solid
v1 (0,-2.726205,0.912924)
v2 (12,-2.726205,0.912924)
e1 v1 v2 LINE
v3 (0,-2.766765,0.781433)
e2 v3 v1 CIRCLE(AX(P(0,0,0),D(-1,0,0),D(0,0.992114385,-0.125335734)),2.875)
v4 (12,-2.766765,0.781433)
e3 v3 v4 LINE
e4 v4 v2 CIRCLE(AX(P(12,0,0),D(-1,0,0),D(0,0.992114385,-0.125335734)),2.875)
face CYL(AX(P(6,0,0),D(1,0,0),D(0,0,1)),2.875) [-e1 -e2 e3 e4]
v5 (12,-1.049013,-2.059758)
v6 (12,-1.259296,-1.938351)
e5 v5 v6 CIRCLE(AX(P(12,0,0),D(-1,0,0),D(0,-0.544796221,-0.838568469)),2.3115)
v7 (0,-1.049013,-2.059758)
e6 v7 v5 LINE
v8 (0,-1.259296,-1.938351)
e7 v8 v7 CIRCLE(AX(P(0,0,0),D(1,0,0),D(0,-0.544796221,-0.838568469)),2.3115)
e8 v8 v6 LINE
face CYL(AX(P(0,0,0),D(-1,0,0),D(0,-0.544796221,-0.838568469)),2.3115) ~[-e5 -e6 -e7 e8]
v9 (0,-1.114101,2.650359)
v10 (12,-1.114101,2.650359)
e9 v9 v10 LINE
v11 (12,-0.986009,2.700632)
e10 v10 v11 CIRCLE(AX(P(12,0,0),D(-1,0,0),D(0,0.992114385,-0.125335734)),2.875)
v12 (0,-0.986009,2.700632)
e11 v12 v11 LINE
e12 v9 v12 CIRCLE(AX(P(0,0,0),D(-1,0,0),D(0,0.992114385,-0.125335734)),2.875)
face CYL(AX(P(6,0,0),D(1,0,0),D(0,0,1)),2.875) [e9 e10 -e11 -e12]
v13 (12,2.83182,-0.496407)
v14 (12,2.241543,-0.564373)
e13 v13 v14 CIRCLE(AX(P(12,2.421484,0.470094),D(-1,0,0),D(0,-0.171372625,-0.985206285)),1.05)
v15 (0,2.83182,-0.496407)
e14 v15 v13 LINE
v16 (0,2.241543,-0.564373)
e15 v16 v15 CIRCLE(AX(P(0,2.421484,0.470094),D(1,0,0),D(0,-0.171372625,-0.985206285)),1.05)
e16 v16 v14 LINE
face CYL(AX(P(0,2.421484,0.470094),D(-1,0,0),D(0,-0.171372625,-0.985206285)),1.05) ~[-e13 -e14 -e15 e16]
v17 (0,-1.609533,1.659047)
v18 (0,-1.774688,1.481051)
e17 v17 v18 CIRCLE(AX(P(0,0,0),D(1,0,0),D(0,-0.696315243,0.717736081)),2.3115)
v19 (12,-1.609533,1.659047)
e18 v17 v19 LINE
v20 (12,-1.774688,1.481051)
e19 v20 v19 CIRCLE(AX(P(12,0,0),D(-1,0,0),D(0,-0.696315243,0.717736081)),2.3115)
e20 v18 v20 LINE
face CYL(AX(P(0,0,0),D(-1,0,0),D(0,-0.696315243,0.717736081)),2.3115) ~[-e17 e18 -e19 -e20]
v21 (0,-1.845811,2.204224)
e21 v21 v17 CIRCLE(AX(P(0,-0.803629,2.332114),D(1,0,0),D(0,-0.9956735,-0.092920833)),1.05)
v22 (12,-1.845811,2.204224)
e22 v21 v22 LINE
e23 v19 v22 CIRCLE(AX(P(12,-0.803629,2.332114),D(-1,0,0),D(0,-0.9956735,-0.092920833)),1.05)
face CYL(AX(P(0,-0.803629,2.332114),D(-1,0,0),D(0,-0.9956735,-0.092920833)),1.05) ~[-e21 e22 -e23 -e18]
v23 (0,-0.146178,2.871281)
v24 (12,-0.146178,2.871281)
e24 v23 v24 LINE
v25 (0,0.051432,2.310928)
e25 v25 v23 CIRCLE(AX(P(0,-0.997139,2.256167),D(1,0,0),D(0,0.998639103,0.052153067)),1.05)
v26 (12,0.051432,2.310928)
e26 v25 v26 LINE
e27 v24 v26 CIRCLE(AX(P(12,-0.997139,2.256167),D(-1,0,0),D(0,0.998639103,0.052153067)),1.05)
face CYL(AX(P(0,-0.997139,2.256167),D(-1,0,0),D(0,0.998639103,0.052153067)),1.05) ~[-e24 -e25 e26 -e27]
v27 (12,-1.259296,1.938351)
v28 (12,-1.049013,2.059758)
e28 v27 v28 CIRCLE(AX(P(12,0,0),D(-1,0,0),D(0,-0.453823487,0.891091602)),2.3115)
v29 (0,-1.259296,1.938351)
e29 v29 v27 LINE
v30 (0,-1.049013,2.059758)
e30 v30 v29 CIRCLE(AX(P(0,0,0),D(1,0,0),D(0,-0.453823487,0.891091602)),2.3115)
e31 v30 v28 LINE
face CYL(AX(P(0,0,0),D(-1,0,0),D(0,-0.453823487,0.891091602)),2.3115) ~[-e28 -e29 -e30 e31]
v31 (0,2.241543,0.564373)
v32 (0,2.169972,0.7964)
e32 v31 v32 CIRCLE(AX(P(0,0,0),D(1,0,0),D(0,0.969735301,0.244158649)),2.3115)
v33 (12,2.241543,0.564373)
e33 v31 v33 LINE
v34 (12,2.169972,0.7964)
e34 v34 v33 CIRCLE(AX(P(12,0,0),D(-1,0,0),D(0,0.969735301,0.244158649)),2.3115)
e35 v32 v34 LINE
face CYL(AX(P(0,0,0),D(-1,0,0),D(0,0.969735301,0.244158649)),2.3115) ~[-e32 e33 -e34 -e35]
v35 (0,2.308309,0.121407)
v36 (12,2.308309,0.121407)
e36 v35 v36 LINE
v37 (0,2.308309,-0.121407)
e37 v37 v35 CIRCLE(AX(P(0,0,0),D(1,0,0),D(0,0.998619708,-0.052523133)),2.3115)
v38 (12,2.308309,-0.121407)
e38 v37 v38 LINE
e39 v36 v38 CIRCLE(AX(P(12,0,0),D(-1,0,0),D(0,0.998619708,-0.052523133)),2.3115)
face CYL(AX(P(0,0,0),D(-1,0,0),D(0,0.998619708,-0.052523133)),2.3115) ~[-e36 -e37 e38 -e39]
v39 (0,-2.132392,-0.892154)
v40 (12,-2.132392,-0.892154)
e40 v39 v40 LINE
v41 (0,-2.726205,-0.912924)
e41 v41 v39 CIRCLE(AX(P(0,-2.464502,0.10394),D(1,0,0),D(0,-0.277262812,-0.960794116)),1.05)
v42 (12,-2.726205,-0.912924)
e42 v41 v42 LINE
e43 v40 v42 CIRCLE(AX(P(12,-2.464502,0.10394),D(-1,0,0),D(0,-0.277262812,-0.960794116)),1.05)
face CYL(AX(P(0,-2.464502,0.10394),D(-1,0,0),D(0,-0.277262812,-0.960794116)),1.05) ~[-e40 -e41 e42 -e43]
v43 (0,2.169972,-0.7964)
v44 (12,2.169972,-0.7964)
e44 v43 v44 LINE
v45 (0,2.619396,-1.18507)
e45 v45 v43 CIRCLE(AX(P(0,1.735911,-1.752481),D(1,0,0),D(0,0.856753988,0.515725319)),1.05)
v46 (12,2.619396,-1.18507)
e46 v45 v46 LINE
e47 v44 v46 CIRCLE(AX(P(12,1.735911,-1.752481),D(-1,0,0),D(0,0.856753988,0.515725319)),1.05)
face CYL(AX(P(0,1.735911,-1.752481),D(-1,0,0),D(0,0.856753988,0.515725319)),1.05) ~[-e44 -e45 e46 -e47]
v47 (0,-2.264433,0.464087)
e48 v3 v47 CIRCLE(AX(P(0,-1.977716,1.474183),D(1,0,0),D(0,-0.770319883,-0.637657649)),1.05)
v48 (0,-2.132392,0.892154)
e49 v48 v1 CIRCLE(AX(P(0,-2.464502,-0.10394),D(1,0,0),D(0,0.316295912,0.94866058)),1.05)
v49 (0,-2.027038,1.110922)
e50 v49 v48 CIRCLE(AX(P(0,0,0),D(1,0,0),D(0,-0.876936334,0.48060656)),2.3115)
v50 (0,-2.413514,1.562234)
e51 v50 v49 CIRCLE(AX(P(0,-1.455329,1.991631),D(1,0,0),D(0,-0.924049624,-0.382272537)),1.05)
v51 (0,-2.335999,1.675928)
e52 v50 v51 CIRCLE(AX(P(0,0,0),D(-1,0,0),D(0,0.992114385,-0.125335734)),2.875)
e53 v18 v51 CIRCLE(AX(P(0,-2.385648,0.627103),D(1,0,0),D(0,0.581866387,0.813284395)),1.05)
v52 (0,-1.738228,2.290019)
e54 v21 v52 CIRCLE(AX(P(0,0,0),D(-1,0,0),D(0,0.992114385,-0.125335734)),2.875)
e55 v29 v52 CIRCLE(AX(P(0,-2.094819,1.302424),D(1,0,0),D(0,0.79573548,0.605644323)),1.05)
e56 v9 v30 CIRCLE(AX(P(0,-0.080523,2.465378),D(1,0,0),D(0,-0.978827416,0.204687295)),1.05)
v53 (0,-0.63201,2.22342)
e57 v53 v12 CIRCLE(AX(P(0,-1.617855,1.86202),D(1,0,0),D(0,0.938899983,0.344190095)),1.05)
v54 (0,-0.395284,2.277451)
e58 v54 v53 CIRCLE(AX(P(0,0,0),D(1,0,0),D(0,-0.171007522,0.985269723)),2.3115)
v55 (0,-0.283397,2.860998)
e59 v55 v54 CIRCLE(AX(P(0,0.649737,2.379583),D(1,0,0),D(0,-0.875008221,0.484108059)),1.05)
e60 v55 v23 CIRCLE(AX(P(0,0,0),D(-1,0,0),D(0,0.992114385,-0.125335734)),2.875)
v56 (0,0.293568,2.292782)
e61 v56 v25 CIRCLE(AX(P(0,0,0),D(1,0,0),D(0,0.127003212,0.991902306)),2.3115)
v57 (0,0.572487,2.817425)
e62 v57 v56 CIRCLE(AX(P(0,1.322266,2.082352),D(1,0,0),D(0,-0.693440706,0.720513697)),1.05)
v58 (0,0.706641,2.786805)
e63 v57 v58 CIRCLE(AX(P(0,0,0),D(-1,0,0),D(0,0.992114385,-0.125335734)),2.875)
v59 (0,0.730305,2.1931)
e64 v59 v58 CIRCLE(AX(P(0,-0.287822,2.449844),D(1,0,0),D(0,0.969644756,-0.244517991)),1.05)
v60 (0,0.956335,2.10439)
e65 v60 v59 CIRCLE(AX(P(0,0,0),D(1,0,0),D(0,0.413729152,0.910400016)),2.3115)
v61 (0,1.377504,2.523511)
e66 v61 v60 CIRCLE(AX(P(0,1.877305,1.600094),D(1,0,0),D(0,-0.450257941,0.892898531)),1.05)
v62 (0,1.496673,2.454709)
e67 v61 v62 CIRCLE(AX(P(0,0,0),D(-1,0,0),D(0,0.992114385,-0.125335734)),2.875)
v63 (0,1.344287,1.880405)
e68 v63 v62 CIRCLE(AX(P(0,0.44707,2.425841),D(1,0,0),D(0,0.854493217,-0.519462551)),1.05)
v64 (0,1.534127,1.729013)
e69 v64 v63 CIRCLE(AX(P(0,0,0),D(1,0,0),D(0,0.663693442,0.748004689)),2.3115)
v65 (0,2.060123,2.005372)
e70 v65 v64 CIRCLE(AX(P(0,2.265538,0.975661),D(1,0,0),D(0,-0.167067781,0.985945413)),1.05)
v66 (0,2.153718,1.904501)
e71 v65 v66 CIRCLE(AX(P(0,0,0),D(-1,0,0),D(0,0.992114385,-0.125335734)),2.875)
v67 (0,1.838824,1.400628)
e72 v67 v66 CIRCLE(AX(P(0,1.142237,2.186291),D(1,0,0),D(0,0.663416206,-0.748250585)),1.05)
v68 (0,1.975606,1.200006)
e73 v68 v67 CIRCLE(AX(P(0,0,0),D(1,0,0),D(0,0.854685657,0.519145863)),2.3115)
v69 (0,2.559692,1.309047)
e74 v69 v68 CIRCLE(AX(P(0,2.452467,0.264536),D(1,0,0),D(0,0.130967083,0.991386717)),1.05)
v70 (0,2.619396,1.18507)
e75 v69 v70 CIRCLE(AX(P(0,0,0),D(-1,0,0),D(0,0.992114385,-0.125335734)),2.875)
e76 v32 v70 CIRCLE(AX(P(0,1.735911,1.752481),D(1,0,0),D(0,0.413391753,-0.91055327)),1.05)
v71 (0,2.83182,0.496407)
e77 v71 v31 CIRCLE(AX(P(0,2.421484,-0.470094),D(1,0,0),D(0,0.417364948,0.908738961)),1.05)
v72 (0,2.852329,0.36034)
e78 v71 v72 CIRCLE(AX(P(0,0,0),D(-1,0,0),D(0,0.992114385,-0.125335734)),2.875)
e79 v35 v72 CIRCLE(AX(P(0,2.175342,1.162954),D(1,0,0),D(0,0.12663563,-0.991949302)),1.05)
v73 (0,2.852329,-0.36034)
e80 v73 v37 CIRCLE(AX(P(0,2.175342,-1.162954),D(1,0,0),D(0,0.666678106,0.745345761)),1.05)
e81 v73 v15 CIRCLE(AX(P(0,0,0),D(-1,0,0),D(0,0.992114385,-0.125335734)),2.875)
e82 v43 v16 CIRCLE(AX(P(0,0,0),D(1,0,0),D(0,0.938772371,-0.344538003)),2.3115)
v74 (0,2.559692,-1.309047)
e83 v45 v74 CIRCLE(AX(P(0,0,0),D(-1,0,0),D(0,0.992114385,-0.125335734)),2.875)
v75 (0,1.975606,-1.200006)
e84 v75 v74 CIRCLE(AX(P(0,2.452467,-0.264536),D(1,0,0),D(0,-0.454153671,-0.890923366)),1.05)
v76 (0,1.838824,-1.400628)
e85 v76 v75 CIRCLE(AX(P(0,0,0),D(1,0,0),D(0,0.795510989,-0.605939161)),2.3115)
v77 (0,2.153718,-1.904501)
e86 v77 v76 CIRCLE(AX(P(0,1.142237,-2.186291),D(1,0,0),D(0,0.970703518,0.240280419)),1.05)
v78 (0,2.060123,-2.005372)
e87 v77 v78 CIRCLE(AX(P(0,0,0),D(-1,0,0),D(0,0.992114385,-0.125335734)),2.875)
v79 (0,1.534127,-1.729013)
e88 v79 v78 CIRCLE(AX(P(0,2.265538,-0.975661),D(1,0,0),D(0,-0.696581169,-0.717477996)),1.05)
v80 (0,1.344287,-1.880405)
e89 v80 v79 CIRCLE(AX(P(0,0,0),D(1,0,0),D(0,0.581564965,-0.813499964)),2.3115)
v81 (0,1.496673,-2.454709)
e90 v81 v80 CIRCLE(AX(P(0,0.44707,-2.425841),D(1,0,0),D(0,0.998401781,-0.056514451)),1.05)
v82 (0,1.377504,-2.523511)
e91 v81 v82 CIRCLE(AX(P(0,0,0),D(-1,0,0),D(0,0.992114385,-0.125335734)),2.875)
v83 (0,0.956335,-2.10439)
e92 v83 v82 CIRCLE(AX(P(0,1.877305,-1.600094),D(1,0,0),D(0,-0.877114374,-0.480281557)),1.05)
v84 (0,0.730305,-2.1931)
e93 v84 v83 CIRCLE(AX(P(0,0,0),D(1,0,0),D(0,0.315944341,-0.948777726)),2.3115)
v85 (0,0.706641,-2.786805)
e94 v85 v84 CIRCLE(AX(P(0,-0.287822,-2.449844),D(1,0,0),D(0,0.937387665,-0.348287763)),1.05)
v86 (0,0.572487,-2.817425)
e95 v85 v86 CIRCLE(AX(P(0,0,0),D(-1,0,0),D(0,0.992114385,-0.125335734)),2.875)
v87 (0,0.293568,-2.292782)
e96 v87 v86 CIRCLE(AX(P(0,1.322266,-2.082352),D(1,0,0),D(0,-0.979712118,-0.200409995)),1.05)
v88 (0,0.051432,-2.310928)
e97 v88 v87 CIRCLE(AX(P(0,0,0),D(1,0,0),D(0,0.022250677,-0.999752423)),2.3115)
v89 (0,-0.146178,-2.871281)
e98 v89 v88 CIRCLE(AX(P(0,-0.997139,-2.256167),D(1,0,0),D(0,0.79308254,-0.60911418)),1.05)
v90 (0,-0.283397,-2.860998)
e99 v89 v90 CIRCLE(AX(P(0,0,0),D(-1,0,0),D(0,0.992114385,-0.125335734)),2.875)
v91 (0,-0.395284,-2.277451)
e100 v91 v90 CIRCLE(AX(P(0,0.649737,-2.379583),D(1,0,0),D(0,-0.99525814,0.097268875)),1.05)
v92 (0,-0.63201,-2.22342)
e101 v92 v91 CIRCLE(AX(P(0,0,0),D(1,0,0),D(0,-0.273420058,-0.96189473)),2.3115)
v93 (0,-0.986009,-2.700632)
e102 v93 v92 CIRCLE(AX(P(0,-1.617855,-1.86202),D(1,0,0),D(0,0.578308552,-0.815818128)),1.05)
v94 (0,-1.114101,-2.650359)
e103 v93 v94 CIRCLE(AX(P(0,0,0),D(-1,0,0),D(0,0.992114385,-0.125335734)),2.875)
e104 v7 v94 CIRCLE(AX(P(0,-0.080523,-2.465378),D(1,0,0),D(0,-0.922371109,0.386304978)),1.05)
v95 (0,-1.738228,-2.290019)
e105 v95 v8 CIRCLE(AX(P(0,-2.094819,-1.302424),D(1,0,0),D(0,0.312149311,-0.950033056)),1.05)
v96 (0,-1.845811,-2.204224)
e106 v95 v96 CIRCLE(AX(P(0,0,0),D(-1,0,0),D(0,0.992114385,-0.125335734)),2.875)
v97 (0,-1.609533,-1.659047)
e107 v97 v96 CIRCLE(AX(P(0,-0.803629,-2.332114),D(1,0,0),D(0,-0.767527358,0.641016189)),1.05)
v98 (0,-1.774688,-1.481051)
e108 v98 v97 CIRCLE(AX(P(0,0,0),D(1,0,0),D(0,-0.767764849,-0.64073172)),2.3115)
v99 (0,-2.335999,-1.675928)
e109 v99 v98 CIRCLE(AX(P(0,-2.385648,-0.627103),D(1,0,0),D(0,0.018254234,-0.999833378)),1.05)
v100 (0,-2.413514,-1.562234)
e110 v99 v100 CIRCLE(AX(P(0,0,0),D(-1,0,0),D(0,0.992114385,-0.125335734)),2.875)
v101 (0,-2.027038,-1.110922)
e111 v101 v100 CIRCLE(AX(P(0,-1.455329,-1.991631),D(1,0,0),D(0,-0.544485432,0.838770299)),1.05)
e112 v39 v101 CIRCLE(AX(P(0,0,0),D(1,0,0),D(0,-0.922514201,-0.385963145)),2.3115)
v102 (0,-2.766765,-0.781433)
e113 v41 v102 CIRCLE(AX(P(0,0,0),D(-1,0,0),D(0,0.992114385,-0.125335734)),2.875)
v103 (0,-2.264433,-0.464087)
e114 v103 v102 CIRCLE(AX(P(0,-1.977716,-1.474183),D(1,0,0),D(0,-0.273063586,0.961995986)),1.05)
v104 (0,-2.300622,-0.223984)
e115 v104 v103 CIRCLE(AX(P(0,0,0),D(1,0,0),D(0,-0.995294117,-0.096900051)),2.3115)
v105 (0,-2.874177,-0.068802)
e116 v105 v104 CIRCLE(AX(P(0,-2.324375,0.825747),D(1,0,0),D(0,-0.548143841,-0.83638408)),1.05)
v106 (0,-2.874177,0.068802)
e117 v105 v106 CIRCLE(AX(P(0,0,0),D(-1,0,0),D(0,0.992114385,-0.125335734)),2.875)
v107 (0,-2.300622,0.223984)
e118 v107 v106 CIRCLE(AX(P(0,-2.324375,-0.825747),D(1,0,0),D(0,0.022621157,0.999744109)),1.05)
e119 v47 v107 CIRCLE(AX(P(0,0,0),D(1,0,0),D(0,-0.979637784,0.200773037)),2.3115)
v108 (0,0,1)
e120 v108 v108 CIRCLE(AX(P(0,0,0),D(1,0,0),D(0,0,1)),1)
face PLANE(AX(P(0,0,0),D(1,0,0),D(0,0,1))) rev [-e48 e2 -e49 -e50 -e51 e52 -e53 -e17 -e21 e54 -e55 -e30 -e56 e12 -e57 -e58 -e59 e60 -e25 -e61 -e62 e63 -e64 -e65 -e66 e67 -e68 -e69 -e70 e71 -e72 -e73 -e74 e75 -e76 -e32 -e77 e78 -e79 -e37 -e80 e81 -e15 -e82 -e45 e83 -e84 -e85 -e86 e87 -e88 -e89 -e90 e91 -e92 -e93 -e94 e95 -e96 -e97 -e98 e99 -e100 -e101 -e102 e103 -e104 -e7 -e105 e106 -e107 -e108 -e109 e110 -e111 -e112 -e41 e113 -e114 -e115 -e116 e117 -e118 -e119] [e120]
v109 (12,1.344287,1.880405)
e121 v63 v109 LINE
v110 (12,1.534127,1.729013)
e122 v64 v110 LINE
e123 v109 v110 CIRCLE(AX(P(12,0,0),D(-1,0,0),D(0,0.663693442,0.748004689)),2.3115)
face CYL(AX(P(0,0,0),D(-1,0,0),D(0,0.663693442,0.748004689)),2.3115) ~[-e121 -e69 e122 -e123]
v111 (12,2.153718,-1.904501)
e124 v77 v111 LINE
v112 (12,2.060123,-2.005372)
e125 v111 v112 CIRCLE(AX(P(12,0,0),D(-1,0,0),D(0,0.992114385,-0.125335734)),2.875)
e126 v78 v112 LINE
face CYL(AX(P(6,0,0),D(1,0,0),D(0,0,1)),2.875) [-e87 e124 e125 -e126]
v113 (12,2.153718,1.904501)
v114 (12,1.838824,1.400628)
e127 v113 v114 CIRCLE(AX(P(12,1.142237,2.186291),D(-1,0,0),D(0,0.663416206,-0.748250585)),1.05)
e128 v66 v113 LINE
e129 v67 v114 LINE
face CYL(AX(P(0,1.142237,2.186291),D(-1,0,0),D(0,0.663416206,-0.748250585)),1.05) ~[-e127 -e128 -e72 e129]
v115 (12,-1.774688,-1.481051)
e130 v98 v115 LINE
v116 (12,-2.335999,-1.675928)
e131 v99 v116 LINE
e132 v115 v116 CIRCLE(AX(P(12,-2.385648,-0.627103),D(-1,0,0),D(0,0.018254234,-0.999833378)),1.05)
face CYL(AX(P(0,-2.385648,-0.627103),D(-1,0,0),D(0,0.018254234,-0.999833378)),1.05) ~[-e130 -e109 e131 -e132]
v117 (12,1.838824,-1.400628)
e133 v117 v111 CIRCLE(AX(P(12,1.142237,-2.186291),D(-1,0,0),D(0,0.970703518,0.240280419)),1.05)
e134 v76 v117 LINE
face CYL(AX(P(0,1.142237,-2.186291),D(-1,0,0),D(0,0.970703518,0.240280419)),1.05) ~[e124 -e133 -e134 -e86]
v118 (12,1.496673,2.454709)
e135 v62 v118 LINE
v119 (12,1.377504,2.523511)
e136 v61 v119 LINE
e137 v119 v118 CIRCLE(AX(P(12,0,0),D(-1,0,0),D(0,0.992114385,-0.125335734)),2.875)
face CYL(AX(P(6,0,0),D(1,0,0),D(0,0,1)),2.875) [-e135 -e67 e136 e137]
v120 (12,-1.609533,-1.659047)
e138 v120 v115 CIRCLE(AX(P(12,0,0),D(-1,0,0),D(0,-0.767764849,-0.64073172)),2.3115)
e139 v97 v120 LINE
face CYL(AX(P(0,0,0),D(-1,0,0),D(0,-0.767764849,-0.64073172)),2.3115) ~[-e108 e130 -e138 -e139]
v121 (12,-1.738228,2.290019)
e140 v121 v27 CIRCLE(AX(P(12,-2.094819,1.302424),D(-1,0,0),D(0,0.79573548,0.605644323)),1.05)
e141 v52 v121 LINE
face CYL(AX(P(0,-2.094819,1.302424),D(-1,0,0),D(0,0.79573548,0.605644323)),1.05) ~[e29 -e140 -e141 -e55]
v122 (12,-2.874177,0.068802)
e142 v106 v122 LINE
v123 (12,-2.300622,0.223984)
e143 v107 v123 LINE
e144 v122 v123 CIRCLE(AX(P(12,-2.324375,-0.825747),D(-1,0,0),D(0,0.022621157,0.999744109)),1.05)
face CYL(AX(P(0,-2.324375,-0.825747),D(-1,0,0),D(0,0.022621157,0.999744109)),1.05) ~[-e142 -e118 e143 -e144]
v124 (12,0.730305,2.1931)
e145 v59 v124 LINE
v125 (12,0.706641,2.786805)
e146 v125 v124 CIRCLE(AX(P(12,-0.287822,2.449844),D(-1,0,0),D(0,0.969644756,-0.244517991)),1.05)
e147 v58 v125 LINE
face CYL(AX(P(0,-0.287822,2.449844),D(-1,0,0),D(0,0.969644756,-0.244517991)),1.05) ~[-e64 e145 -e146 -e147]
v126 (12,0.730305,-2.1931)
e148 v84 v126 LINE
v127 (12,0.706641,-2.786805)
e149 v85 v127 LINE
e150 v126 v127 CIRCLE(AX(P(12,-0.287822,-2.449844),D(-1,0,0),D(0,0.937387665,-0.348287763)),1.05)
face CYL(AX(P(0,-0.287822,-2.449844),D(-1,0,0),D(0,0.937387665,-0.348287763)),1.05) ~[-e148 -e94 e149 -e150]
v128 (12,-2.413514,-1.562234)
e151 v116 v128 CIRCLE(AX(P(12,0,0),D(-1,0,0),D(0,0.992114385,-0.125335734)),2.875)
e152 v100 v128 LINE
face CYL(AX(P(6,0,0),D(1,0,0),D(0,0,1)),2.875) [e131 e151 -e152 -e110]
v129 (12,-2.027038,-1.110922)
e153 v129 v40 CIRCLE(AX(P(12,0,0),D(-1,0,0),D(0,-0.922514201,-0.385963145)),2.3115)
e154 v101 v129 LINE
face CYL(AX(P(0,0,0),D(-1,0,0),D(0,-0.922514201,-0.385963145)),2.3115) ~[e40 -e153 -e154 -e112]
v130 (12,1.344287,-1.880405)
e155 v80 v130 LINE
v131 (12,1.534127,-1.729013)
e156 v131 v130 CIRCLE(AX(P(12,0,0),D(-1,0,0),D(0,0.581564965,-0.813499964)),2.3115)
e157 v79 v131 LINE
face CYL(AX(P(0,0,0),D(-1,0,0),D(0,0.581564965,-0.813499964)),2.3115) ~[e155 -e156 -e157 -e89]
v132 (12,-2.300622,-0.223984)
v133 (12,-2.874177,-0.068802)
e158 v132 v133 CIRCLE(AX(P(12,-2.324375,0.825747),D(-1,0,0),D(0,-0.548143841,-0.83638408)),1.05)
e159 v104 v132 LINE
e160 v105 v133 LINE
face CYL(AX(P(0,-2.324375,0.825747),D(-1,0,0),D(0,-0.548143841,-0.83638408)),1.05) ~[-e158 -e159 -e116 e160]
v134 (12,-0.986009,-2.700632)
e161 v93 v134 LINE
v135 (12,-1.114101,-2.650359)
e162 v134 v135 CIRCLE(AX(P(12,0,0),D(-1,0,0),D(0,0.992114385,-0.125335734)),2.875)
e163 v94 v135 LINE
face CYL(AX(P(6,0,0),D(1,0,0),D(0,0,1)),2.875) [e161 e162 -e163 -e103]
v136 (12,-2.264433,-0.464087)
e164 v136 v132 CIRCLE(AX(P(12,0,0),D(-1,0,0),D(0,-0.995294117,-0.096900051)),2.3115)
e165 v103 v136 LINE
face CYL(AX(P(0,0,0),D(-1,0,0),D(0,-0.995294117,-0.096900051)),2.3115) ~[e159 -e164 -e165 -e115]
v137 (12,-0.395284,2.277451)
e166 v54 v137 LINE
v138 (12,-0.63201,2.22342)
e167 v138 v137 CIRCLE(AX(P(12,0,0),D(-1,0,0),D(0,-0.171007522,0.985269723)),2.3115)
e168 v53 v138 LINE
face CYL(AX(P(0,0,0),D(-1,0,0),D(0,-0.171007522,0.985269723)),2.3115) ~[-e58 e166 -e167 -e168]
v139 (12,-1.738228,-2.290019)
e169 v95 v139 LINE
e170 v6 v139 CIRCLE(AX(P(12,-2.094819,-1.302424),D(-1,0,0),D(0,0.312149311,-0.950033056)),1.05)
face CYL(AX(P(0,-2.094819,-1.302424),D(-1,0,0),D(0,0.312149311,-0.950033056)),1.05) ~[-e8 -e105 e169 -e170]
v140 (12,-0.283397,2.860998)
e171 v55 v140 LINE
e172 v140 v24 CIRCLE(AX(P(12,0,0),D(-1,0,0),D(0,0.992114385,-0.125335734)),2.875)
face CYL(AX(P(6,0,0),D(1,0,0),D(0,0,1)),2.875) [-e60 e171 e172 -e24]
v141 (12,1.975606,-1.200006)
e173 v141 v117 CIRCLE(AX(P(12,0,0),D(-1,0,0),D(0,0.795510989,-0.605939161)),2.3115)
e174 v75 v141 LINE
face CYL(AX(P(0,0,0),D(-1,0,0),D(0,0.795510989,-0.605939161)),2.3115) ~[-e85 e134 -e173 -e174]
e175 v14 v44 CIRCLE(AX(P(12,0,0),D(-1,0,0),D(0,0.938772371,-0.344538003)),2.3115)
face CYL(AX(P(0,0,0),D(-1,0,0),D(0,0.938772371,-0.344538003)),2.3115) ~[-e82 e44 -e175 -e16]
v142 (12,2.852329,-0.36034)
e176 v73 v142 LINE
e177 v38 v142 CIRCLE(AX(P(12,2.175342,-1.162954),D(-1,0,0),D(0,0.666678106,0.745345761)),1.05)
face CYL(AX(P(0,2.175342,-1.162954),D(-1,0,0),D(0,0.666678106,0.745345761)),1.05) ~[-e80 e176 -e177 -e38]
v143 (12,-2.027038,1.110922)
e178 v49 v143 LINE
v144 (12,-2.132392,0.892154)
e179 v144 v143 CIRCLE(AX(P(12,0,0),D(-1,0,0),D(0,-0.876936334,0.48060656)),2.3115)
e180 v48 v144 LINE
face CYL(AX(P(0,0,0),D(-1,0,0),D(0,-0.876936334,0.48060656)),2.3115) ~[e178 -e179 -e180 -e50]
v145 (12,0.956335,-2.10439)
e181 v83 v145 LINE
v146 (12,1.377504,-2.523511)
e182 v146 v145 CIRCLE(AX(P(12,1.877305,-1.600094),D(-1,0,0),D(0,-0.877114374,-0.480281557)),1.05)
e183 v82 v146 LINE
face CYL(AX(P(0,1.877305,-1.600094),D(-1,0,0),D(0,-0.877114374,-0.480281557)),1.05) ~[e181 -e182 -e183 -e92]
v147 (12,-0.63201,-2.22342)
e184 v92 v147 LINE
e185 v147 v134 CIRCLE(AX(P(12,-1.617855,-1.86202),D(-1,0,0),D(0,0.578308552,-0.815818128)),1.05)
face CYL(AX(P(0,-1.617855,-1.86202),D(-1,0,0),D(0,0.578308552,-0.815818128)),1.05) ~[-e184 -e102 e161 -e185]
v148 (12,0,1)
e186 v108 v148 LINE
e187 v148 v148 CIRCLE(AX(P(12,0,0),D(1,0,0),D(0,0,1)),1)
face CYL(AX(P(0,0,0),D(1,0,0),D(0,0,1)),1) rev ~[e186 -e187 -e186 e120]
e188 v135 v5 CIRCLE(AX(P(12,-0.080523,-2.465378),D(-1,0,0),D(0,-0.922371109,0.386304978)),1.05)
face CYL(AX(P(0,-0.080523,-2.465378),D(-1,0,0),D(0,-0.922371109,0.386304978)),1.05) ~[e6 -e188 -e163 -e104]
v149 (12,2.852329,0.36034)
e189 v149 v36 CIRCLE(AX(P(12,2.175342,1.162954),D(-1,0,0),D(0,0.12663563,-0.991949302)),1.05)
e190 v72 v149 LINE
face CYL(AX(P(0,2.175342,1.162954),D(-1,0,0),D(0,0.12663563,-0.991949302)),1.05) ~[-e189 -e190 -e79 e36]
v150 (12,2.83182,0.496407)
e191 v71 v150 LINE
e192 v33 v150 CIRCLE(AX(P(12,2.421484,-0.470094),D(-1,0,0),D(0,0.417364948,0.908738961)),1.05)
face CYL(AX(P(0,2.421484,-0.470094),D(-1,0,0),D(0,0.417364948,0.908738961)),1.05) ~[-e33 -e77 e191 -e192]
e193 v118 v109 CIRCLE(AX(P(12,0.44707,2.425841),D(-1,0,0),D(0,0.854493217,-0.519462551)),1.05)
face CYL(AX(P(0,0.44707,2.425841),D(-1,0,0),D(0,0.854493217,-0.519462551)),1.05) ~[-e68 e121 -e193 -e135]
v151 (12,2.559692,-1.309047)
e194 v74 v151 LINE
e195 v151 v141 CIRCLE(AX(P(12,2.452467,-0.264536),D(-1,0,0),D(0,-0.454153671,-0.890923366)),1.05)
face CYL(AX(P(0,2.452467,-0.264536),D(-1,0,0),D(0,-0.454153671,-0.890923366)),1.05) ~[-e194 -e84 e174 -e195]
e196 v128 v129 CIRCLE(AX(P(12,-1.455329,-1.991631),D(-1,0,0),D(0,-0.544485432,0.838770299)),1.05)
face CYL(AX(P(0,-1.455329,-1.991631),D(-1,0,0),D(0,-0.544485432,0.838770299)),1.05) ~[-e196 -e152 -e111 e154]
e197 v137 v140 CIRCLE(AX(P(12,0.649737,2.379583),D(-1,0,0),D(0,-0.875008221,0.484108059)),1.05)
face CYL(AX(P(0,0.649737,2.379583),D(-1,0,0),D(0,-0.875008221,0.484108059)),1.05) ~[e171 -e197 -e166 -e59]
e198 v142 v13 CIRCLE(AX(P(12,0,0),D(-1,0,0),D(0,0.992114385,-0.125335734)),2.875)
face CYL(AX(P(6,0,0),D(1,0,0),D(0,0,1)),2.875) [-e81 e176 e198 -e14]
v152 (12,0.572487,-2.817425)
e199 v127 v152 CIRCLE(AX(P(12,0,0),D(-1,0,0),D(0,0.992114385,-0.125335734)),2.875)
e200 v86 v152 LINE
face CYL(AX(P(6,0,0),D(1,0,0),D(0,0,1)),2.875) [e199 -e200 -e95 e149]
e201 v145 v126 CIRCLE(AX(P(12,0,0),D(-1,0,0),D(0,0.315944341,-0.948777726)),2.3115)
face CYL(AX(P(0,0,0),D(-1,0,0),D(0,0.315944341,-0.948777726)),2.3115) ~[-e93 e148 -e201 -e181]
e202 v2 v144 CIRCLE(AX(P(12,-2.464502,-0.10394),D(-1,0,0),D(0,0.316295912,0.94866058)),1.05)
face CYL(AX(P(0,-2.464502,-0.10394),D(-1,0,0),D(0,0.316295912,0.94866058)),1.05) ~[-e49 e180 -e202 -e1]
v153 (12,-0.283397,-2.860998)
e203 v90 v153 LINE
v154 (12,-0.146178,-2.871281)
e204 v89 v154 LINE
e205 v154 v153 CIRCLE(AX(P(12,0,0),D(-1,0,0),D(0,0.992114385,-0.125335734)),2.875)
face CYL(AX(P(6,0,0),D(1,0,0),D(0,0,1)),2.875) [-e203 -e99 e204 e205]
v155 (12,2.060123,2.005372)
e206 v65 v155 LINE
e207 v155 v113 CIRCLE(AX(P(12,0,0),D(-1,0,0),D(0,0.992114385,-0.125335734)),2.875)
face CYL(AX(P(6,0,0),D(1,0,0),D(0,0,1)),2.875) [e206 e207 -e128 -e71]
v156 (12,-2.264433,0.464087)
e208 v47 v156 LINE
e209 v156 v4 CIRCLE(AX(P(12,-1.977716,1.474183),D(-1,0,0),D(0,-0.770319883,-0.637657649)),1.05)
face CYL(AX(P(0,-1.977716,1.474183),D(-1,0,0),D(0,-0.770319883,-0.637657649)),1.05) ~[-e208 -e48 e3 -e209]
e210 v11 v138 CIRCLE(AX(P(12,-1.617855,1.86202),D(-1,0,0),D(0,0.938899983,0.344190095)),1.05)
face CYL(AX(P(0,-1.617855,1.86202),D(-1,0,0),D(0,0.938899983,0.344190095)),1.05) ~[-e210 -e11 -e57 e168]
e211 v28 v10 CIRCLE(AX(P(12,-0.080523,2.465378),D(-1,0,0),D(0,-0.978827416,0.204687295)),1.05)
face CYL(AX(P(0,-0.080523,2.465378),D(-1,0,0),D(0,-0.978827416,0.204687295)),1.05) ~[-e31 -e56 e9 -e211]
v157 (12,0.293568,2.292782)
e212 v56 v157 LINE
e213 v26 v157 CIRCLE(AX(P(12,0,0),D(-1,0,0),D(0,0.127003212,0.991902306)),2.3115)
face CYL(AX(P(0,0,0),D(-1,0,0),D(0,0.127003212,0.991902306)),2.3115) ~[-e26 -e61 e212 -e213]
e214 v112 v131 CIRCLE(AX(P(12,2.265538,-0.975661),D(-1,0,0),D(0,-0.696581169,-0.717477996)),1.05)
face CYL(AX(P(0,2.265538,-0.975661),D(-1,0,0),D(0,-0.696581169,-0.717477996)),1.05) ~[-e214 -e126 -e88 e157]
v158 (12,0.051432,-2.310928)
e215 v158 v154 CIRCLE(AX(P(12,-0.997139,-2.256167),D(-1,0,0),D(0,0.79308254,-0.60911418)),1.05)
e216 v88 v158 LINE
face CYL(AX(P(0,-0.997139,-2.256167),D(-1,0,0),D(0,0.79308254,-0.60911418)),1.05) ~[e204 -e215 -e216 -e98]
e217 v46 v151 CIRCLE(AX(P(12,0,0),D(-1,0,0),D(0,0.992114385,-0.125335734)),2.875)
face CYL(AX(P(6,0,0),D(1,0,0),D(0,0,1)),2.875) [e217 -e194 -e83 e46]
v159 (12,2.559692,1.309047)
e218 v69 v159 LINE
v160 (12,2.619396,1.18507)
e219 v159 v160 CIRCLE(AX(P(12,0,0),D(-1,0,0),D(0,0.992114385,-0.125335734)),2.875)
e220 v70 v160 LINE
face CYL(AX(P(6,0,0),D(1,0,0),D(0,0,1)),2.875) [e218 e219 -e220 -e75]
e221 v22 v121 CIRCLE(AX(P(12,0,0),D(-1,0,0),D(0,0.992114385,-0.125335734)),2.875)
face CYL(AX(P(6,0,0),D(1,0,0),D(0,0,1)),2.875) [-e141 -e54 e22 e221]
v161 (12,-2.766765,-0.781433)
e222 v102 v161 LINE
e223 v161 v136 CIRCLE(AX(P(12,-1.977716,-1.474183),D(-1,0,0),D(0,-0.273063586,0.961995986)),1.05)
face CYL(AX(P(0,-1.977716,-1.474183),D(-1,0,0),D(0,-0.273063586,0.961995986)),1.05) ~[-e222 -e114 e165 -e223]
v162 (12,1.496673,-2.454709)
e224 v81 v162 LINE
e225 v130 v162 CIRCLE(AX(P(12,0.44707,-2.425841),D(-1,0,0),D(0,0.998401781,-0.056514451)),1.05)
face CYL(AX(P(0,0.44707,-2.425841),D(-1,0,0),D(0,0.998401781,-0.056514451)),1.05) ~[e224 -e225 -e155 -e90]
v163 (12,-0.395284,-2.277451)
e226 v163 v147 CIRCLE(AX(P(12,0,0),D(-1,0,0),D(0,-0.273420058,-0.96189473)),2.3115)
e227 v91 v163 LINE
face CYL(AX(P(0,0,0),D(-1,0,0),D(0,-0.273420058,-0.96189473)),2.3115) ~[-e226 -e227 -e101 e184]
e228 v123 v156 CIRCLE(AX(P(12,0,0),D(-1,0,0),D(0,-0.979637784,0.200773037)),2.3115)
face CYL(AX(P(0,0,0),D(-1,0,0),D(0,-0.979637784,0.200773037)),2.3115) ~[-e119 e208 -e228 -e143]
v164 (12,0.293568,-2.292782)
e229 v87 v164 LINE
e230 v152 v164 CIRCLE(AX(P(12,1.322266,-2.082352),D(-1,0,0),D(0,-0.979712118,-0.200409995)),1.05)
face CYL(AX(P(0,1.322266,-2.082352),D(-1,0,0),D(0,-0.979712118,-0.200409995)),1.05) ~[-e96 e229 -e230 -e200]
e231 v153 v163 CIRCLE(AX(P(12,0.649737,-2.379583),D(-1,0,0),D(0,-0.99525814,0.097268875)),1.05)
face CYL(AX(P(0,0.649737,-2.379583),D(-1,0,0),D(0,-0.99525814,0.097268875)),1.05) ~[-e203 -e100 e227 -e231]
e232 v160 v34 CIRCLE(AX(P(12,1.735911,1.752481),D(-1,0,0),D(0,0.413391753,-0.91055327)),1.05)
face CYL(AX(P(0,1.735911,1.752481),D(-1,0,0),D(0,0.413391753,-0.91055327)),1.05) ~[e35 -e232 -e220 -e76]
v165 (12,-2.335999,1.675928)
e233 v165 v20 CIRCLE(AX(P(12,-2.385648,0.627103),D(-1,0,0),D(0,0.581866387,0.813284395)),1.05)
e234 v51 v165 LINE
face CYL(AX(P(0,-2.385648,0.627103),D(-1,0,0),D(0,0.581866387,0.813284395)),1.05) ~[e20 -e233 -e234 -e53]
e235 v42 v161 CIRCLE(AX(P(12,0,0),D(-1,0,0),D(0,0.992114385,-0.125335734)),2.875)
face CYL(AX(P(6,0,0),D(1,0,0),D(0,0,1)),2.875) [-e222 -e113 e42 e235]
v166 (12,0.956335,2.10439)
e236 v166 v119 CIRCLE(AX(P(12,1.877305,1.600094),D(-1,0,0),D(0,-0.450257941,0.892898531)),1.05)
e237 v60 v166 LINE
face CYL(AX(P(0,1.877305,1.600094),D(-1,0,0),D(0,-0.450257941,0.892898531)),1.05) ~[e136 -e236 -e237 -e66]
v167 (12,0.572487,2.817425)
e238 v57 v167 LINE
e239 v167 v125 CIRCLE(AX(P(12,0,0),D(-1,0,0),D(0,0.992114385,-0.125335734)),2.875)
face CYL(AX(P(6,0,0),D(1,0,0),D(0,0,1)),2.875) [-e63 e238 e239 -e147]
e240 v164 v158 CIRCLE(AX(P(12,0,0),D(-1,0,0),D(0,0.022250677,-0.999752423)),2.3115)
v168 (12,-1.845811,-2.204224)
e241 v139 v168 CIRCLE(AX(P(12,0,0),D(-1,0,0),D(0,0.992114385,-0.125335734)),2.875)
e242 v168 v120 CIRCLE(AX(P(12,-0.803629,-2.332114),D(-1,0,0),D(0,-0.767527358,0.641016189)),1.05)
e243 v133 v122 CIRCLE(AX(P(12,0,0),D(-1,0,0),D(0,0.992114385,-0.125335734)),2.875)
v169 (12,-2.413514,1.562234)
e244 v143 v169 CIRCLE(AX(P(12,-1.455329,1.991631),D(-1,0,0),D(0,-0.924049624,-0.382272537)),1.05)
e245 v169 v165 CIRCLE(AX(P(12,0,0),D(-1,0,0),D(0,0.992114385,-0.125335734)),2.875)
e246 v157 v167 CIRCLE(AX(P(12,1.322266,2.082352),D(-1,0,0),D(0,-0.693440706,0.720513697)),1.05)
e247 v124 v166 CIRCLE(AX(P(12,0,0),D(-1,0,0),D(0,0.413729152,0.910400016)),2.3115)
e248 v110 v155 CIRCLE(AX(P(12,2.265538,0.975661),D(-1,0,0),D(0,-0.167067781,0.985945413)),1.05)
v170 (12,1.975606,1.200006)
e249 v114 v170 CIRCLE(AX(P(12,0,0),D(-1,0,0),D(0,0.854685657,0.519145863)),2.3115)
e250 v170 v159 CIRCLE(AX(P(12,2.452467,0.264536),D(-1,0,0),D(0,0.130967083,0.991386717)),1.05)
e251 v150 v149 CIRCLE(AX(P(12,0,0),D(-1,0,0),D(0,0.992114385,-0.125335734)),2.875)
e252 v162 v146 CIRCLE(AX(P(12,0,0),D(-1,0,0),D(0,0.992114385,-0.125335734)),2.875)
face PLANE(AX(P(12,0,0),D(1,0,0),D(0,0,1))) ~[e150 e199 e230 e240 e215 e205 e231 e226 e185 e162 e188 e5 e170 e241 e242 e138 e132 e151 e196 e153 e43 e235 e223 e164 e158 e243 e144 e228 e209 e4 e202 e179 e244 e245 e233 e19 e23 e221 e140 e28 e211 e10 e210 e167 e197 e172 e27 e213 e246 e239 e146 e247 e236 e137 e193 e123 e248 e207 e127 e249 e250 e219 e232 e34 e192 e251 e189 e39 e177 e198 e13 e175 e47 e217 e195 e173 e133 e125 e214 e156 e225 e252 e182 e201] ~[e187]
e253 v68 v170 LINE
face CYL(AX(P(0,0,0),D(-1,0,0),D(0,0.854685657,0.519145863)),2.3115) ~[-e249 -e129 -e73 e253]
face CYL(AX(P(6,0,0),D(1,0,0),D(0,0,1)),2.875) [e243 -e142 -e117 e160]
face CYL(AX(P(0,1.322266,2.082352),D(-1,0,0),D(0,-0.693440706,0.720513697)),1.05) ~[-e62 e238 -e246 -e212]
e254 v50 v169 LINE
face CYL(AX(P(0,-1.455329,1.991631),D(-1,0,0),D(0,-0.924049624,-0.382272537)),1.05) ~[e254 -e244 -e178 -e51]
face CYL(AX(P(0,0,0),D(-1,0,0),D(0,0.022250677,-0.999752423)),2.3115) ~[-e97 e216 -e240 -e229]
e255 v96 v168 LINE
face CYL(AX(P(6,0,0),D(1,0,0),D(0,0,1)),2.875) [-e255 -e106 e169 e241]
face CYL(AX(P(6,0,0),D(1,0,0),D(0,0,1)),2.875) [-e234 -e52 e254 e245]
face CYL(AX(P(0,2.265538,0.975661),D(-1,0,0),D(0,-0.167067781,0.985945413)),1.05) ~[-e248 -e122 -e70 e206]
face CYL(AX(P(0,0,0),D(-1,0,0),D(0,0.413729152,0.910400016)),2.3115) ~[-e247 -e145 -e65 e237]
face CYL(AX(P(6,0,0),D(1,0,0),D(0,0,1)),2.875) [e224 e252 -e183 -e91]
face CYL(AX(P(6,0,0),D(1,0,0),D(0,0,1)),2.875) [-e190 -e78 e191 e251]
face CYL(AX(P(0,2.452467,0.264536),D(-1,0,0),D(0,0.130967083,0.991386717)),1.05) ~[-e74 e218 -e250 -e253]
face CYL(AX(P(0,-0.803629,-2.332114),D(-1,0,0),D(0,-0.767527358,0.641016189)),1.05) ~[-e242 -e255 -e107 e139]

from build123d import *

# Parameters (mm, degrees)
BASPROSKE_W     = 12
BASPROSKE_H     = 2.875
TOOTHCUT_DEPTH  = 13.670092738
TEETHCUTS_COUNT = 21
TEETHCUTS_ANGLE = 342.857142857
BORSKE_R        = 1
BORE_DEPTH      = 50.0000508


with BuildPart() as part:
    # BasProSke → Base-Revolve (revolve)
    with BuildSketch(Plane(origin=(0, 0, 0), x_dir=(1, 0, 0), z_dir=(0, 1, 0)), mode=Mode.PRIVATE) as base_revolve_sk:
        with Locations((6, 1.4375)):
            Rectangle(BASPROSKE_W, BASPROSKE_H)
    revolve(base_revolve_sk.sketch.rotate(Axis((-10, 0, 0), (1, 0, 0)), 180), axis=Axis((-10, 0, 0), (1, 0, 0)))

    # TooCutSke → ToothCut (cut, through all)
    with BuildSketch(Plane(origin=(0, 0, 0), x_dir=(0, 0, -1), z_dir=(1, 0, 0))):
        with BuildLine():
            ThreePointArc((0.121407231, 2.308309454), (0, 2.3115), (-0.121407231, 2.308309454))
            ThreePointArc((-0.121407231, 2.308309454), (-0.207823298, 2.61149035), (-0.380340948, 2.875354052))
            ThreePointArc((-0.380340948, 2.875354052), (0, 2.9004), (0.380340948, 2.875354052))
            ThreePointArc((0.380340948, 2.875354052), (0.207823298, 2.61149035), (0.121407231, 2.308309454))
        make_face()
    toothcut = extrude(amount=TOOTHCUT_DEPTH, mode=Mode.SUBTRACT)

    # TeethCuts: ToothCut ×21 about axis
    teethcuts_axis = Axis((-10, 0, 0), (1, 0, 0))
    for i in range(1, TEETHCUTS_COUNT):
        add(toothcut.rotate(teethcuts_axis, i * TEETHCUTS_ANGLE / (TEETHCUTS_COUNT - 1)), mode=Mode.SUBTRACT)

    # BorSke → Bore (cut, symmetric)
    with BuildSketch(Plane(origin=(0, 0, 0), x_dir=(0, 0, -1), z_dir=(1, 0, 0))):
        with Locations(Location((0, 0, 0), (0, 0, 180))):
            Circle(BORSKE_R)
    extrude(amount=BORE_DEPTH, both=True, mode=Mode.SUBTRACT)


solid = part.part
